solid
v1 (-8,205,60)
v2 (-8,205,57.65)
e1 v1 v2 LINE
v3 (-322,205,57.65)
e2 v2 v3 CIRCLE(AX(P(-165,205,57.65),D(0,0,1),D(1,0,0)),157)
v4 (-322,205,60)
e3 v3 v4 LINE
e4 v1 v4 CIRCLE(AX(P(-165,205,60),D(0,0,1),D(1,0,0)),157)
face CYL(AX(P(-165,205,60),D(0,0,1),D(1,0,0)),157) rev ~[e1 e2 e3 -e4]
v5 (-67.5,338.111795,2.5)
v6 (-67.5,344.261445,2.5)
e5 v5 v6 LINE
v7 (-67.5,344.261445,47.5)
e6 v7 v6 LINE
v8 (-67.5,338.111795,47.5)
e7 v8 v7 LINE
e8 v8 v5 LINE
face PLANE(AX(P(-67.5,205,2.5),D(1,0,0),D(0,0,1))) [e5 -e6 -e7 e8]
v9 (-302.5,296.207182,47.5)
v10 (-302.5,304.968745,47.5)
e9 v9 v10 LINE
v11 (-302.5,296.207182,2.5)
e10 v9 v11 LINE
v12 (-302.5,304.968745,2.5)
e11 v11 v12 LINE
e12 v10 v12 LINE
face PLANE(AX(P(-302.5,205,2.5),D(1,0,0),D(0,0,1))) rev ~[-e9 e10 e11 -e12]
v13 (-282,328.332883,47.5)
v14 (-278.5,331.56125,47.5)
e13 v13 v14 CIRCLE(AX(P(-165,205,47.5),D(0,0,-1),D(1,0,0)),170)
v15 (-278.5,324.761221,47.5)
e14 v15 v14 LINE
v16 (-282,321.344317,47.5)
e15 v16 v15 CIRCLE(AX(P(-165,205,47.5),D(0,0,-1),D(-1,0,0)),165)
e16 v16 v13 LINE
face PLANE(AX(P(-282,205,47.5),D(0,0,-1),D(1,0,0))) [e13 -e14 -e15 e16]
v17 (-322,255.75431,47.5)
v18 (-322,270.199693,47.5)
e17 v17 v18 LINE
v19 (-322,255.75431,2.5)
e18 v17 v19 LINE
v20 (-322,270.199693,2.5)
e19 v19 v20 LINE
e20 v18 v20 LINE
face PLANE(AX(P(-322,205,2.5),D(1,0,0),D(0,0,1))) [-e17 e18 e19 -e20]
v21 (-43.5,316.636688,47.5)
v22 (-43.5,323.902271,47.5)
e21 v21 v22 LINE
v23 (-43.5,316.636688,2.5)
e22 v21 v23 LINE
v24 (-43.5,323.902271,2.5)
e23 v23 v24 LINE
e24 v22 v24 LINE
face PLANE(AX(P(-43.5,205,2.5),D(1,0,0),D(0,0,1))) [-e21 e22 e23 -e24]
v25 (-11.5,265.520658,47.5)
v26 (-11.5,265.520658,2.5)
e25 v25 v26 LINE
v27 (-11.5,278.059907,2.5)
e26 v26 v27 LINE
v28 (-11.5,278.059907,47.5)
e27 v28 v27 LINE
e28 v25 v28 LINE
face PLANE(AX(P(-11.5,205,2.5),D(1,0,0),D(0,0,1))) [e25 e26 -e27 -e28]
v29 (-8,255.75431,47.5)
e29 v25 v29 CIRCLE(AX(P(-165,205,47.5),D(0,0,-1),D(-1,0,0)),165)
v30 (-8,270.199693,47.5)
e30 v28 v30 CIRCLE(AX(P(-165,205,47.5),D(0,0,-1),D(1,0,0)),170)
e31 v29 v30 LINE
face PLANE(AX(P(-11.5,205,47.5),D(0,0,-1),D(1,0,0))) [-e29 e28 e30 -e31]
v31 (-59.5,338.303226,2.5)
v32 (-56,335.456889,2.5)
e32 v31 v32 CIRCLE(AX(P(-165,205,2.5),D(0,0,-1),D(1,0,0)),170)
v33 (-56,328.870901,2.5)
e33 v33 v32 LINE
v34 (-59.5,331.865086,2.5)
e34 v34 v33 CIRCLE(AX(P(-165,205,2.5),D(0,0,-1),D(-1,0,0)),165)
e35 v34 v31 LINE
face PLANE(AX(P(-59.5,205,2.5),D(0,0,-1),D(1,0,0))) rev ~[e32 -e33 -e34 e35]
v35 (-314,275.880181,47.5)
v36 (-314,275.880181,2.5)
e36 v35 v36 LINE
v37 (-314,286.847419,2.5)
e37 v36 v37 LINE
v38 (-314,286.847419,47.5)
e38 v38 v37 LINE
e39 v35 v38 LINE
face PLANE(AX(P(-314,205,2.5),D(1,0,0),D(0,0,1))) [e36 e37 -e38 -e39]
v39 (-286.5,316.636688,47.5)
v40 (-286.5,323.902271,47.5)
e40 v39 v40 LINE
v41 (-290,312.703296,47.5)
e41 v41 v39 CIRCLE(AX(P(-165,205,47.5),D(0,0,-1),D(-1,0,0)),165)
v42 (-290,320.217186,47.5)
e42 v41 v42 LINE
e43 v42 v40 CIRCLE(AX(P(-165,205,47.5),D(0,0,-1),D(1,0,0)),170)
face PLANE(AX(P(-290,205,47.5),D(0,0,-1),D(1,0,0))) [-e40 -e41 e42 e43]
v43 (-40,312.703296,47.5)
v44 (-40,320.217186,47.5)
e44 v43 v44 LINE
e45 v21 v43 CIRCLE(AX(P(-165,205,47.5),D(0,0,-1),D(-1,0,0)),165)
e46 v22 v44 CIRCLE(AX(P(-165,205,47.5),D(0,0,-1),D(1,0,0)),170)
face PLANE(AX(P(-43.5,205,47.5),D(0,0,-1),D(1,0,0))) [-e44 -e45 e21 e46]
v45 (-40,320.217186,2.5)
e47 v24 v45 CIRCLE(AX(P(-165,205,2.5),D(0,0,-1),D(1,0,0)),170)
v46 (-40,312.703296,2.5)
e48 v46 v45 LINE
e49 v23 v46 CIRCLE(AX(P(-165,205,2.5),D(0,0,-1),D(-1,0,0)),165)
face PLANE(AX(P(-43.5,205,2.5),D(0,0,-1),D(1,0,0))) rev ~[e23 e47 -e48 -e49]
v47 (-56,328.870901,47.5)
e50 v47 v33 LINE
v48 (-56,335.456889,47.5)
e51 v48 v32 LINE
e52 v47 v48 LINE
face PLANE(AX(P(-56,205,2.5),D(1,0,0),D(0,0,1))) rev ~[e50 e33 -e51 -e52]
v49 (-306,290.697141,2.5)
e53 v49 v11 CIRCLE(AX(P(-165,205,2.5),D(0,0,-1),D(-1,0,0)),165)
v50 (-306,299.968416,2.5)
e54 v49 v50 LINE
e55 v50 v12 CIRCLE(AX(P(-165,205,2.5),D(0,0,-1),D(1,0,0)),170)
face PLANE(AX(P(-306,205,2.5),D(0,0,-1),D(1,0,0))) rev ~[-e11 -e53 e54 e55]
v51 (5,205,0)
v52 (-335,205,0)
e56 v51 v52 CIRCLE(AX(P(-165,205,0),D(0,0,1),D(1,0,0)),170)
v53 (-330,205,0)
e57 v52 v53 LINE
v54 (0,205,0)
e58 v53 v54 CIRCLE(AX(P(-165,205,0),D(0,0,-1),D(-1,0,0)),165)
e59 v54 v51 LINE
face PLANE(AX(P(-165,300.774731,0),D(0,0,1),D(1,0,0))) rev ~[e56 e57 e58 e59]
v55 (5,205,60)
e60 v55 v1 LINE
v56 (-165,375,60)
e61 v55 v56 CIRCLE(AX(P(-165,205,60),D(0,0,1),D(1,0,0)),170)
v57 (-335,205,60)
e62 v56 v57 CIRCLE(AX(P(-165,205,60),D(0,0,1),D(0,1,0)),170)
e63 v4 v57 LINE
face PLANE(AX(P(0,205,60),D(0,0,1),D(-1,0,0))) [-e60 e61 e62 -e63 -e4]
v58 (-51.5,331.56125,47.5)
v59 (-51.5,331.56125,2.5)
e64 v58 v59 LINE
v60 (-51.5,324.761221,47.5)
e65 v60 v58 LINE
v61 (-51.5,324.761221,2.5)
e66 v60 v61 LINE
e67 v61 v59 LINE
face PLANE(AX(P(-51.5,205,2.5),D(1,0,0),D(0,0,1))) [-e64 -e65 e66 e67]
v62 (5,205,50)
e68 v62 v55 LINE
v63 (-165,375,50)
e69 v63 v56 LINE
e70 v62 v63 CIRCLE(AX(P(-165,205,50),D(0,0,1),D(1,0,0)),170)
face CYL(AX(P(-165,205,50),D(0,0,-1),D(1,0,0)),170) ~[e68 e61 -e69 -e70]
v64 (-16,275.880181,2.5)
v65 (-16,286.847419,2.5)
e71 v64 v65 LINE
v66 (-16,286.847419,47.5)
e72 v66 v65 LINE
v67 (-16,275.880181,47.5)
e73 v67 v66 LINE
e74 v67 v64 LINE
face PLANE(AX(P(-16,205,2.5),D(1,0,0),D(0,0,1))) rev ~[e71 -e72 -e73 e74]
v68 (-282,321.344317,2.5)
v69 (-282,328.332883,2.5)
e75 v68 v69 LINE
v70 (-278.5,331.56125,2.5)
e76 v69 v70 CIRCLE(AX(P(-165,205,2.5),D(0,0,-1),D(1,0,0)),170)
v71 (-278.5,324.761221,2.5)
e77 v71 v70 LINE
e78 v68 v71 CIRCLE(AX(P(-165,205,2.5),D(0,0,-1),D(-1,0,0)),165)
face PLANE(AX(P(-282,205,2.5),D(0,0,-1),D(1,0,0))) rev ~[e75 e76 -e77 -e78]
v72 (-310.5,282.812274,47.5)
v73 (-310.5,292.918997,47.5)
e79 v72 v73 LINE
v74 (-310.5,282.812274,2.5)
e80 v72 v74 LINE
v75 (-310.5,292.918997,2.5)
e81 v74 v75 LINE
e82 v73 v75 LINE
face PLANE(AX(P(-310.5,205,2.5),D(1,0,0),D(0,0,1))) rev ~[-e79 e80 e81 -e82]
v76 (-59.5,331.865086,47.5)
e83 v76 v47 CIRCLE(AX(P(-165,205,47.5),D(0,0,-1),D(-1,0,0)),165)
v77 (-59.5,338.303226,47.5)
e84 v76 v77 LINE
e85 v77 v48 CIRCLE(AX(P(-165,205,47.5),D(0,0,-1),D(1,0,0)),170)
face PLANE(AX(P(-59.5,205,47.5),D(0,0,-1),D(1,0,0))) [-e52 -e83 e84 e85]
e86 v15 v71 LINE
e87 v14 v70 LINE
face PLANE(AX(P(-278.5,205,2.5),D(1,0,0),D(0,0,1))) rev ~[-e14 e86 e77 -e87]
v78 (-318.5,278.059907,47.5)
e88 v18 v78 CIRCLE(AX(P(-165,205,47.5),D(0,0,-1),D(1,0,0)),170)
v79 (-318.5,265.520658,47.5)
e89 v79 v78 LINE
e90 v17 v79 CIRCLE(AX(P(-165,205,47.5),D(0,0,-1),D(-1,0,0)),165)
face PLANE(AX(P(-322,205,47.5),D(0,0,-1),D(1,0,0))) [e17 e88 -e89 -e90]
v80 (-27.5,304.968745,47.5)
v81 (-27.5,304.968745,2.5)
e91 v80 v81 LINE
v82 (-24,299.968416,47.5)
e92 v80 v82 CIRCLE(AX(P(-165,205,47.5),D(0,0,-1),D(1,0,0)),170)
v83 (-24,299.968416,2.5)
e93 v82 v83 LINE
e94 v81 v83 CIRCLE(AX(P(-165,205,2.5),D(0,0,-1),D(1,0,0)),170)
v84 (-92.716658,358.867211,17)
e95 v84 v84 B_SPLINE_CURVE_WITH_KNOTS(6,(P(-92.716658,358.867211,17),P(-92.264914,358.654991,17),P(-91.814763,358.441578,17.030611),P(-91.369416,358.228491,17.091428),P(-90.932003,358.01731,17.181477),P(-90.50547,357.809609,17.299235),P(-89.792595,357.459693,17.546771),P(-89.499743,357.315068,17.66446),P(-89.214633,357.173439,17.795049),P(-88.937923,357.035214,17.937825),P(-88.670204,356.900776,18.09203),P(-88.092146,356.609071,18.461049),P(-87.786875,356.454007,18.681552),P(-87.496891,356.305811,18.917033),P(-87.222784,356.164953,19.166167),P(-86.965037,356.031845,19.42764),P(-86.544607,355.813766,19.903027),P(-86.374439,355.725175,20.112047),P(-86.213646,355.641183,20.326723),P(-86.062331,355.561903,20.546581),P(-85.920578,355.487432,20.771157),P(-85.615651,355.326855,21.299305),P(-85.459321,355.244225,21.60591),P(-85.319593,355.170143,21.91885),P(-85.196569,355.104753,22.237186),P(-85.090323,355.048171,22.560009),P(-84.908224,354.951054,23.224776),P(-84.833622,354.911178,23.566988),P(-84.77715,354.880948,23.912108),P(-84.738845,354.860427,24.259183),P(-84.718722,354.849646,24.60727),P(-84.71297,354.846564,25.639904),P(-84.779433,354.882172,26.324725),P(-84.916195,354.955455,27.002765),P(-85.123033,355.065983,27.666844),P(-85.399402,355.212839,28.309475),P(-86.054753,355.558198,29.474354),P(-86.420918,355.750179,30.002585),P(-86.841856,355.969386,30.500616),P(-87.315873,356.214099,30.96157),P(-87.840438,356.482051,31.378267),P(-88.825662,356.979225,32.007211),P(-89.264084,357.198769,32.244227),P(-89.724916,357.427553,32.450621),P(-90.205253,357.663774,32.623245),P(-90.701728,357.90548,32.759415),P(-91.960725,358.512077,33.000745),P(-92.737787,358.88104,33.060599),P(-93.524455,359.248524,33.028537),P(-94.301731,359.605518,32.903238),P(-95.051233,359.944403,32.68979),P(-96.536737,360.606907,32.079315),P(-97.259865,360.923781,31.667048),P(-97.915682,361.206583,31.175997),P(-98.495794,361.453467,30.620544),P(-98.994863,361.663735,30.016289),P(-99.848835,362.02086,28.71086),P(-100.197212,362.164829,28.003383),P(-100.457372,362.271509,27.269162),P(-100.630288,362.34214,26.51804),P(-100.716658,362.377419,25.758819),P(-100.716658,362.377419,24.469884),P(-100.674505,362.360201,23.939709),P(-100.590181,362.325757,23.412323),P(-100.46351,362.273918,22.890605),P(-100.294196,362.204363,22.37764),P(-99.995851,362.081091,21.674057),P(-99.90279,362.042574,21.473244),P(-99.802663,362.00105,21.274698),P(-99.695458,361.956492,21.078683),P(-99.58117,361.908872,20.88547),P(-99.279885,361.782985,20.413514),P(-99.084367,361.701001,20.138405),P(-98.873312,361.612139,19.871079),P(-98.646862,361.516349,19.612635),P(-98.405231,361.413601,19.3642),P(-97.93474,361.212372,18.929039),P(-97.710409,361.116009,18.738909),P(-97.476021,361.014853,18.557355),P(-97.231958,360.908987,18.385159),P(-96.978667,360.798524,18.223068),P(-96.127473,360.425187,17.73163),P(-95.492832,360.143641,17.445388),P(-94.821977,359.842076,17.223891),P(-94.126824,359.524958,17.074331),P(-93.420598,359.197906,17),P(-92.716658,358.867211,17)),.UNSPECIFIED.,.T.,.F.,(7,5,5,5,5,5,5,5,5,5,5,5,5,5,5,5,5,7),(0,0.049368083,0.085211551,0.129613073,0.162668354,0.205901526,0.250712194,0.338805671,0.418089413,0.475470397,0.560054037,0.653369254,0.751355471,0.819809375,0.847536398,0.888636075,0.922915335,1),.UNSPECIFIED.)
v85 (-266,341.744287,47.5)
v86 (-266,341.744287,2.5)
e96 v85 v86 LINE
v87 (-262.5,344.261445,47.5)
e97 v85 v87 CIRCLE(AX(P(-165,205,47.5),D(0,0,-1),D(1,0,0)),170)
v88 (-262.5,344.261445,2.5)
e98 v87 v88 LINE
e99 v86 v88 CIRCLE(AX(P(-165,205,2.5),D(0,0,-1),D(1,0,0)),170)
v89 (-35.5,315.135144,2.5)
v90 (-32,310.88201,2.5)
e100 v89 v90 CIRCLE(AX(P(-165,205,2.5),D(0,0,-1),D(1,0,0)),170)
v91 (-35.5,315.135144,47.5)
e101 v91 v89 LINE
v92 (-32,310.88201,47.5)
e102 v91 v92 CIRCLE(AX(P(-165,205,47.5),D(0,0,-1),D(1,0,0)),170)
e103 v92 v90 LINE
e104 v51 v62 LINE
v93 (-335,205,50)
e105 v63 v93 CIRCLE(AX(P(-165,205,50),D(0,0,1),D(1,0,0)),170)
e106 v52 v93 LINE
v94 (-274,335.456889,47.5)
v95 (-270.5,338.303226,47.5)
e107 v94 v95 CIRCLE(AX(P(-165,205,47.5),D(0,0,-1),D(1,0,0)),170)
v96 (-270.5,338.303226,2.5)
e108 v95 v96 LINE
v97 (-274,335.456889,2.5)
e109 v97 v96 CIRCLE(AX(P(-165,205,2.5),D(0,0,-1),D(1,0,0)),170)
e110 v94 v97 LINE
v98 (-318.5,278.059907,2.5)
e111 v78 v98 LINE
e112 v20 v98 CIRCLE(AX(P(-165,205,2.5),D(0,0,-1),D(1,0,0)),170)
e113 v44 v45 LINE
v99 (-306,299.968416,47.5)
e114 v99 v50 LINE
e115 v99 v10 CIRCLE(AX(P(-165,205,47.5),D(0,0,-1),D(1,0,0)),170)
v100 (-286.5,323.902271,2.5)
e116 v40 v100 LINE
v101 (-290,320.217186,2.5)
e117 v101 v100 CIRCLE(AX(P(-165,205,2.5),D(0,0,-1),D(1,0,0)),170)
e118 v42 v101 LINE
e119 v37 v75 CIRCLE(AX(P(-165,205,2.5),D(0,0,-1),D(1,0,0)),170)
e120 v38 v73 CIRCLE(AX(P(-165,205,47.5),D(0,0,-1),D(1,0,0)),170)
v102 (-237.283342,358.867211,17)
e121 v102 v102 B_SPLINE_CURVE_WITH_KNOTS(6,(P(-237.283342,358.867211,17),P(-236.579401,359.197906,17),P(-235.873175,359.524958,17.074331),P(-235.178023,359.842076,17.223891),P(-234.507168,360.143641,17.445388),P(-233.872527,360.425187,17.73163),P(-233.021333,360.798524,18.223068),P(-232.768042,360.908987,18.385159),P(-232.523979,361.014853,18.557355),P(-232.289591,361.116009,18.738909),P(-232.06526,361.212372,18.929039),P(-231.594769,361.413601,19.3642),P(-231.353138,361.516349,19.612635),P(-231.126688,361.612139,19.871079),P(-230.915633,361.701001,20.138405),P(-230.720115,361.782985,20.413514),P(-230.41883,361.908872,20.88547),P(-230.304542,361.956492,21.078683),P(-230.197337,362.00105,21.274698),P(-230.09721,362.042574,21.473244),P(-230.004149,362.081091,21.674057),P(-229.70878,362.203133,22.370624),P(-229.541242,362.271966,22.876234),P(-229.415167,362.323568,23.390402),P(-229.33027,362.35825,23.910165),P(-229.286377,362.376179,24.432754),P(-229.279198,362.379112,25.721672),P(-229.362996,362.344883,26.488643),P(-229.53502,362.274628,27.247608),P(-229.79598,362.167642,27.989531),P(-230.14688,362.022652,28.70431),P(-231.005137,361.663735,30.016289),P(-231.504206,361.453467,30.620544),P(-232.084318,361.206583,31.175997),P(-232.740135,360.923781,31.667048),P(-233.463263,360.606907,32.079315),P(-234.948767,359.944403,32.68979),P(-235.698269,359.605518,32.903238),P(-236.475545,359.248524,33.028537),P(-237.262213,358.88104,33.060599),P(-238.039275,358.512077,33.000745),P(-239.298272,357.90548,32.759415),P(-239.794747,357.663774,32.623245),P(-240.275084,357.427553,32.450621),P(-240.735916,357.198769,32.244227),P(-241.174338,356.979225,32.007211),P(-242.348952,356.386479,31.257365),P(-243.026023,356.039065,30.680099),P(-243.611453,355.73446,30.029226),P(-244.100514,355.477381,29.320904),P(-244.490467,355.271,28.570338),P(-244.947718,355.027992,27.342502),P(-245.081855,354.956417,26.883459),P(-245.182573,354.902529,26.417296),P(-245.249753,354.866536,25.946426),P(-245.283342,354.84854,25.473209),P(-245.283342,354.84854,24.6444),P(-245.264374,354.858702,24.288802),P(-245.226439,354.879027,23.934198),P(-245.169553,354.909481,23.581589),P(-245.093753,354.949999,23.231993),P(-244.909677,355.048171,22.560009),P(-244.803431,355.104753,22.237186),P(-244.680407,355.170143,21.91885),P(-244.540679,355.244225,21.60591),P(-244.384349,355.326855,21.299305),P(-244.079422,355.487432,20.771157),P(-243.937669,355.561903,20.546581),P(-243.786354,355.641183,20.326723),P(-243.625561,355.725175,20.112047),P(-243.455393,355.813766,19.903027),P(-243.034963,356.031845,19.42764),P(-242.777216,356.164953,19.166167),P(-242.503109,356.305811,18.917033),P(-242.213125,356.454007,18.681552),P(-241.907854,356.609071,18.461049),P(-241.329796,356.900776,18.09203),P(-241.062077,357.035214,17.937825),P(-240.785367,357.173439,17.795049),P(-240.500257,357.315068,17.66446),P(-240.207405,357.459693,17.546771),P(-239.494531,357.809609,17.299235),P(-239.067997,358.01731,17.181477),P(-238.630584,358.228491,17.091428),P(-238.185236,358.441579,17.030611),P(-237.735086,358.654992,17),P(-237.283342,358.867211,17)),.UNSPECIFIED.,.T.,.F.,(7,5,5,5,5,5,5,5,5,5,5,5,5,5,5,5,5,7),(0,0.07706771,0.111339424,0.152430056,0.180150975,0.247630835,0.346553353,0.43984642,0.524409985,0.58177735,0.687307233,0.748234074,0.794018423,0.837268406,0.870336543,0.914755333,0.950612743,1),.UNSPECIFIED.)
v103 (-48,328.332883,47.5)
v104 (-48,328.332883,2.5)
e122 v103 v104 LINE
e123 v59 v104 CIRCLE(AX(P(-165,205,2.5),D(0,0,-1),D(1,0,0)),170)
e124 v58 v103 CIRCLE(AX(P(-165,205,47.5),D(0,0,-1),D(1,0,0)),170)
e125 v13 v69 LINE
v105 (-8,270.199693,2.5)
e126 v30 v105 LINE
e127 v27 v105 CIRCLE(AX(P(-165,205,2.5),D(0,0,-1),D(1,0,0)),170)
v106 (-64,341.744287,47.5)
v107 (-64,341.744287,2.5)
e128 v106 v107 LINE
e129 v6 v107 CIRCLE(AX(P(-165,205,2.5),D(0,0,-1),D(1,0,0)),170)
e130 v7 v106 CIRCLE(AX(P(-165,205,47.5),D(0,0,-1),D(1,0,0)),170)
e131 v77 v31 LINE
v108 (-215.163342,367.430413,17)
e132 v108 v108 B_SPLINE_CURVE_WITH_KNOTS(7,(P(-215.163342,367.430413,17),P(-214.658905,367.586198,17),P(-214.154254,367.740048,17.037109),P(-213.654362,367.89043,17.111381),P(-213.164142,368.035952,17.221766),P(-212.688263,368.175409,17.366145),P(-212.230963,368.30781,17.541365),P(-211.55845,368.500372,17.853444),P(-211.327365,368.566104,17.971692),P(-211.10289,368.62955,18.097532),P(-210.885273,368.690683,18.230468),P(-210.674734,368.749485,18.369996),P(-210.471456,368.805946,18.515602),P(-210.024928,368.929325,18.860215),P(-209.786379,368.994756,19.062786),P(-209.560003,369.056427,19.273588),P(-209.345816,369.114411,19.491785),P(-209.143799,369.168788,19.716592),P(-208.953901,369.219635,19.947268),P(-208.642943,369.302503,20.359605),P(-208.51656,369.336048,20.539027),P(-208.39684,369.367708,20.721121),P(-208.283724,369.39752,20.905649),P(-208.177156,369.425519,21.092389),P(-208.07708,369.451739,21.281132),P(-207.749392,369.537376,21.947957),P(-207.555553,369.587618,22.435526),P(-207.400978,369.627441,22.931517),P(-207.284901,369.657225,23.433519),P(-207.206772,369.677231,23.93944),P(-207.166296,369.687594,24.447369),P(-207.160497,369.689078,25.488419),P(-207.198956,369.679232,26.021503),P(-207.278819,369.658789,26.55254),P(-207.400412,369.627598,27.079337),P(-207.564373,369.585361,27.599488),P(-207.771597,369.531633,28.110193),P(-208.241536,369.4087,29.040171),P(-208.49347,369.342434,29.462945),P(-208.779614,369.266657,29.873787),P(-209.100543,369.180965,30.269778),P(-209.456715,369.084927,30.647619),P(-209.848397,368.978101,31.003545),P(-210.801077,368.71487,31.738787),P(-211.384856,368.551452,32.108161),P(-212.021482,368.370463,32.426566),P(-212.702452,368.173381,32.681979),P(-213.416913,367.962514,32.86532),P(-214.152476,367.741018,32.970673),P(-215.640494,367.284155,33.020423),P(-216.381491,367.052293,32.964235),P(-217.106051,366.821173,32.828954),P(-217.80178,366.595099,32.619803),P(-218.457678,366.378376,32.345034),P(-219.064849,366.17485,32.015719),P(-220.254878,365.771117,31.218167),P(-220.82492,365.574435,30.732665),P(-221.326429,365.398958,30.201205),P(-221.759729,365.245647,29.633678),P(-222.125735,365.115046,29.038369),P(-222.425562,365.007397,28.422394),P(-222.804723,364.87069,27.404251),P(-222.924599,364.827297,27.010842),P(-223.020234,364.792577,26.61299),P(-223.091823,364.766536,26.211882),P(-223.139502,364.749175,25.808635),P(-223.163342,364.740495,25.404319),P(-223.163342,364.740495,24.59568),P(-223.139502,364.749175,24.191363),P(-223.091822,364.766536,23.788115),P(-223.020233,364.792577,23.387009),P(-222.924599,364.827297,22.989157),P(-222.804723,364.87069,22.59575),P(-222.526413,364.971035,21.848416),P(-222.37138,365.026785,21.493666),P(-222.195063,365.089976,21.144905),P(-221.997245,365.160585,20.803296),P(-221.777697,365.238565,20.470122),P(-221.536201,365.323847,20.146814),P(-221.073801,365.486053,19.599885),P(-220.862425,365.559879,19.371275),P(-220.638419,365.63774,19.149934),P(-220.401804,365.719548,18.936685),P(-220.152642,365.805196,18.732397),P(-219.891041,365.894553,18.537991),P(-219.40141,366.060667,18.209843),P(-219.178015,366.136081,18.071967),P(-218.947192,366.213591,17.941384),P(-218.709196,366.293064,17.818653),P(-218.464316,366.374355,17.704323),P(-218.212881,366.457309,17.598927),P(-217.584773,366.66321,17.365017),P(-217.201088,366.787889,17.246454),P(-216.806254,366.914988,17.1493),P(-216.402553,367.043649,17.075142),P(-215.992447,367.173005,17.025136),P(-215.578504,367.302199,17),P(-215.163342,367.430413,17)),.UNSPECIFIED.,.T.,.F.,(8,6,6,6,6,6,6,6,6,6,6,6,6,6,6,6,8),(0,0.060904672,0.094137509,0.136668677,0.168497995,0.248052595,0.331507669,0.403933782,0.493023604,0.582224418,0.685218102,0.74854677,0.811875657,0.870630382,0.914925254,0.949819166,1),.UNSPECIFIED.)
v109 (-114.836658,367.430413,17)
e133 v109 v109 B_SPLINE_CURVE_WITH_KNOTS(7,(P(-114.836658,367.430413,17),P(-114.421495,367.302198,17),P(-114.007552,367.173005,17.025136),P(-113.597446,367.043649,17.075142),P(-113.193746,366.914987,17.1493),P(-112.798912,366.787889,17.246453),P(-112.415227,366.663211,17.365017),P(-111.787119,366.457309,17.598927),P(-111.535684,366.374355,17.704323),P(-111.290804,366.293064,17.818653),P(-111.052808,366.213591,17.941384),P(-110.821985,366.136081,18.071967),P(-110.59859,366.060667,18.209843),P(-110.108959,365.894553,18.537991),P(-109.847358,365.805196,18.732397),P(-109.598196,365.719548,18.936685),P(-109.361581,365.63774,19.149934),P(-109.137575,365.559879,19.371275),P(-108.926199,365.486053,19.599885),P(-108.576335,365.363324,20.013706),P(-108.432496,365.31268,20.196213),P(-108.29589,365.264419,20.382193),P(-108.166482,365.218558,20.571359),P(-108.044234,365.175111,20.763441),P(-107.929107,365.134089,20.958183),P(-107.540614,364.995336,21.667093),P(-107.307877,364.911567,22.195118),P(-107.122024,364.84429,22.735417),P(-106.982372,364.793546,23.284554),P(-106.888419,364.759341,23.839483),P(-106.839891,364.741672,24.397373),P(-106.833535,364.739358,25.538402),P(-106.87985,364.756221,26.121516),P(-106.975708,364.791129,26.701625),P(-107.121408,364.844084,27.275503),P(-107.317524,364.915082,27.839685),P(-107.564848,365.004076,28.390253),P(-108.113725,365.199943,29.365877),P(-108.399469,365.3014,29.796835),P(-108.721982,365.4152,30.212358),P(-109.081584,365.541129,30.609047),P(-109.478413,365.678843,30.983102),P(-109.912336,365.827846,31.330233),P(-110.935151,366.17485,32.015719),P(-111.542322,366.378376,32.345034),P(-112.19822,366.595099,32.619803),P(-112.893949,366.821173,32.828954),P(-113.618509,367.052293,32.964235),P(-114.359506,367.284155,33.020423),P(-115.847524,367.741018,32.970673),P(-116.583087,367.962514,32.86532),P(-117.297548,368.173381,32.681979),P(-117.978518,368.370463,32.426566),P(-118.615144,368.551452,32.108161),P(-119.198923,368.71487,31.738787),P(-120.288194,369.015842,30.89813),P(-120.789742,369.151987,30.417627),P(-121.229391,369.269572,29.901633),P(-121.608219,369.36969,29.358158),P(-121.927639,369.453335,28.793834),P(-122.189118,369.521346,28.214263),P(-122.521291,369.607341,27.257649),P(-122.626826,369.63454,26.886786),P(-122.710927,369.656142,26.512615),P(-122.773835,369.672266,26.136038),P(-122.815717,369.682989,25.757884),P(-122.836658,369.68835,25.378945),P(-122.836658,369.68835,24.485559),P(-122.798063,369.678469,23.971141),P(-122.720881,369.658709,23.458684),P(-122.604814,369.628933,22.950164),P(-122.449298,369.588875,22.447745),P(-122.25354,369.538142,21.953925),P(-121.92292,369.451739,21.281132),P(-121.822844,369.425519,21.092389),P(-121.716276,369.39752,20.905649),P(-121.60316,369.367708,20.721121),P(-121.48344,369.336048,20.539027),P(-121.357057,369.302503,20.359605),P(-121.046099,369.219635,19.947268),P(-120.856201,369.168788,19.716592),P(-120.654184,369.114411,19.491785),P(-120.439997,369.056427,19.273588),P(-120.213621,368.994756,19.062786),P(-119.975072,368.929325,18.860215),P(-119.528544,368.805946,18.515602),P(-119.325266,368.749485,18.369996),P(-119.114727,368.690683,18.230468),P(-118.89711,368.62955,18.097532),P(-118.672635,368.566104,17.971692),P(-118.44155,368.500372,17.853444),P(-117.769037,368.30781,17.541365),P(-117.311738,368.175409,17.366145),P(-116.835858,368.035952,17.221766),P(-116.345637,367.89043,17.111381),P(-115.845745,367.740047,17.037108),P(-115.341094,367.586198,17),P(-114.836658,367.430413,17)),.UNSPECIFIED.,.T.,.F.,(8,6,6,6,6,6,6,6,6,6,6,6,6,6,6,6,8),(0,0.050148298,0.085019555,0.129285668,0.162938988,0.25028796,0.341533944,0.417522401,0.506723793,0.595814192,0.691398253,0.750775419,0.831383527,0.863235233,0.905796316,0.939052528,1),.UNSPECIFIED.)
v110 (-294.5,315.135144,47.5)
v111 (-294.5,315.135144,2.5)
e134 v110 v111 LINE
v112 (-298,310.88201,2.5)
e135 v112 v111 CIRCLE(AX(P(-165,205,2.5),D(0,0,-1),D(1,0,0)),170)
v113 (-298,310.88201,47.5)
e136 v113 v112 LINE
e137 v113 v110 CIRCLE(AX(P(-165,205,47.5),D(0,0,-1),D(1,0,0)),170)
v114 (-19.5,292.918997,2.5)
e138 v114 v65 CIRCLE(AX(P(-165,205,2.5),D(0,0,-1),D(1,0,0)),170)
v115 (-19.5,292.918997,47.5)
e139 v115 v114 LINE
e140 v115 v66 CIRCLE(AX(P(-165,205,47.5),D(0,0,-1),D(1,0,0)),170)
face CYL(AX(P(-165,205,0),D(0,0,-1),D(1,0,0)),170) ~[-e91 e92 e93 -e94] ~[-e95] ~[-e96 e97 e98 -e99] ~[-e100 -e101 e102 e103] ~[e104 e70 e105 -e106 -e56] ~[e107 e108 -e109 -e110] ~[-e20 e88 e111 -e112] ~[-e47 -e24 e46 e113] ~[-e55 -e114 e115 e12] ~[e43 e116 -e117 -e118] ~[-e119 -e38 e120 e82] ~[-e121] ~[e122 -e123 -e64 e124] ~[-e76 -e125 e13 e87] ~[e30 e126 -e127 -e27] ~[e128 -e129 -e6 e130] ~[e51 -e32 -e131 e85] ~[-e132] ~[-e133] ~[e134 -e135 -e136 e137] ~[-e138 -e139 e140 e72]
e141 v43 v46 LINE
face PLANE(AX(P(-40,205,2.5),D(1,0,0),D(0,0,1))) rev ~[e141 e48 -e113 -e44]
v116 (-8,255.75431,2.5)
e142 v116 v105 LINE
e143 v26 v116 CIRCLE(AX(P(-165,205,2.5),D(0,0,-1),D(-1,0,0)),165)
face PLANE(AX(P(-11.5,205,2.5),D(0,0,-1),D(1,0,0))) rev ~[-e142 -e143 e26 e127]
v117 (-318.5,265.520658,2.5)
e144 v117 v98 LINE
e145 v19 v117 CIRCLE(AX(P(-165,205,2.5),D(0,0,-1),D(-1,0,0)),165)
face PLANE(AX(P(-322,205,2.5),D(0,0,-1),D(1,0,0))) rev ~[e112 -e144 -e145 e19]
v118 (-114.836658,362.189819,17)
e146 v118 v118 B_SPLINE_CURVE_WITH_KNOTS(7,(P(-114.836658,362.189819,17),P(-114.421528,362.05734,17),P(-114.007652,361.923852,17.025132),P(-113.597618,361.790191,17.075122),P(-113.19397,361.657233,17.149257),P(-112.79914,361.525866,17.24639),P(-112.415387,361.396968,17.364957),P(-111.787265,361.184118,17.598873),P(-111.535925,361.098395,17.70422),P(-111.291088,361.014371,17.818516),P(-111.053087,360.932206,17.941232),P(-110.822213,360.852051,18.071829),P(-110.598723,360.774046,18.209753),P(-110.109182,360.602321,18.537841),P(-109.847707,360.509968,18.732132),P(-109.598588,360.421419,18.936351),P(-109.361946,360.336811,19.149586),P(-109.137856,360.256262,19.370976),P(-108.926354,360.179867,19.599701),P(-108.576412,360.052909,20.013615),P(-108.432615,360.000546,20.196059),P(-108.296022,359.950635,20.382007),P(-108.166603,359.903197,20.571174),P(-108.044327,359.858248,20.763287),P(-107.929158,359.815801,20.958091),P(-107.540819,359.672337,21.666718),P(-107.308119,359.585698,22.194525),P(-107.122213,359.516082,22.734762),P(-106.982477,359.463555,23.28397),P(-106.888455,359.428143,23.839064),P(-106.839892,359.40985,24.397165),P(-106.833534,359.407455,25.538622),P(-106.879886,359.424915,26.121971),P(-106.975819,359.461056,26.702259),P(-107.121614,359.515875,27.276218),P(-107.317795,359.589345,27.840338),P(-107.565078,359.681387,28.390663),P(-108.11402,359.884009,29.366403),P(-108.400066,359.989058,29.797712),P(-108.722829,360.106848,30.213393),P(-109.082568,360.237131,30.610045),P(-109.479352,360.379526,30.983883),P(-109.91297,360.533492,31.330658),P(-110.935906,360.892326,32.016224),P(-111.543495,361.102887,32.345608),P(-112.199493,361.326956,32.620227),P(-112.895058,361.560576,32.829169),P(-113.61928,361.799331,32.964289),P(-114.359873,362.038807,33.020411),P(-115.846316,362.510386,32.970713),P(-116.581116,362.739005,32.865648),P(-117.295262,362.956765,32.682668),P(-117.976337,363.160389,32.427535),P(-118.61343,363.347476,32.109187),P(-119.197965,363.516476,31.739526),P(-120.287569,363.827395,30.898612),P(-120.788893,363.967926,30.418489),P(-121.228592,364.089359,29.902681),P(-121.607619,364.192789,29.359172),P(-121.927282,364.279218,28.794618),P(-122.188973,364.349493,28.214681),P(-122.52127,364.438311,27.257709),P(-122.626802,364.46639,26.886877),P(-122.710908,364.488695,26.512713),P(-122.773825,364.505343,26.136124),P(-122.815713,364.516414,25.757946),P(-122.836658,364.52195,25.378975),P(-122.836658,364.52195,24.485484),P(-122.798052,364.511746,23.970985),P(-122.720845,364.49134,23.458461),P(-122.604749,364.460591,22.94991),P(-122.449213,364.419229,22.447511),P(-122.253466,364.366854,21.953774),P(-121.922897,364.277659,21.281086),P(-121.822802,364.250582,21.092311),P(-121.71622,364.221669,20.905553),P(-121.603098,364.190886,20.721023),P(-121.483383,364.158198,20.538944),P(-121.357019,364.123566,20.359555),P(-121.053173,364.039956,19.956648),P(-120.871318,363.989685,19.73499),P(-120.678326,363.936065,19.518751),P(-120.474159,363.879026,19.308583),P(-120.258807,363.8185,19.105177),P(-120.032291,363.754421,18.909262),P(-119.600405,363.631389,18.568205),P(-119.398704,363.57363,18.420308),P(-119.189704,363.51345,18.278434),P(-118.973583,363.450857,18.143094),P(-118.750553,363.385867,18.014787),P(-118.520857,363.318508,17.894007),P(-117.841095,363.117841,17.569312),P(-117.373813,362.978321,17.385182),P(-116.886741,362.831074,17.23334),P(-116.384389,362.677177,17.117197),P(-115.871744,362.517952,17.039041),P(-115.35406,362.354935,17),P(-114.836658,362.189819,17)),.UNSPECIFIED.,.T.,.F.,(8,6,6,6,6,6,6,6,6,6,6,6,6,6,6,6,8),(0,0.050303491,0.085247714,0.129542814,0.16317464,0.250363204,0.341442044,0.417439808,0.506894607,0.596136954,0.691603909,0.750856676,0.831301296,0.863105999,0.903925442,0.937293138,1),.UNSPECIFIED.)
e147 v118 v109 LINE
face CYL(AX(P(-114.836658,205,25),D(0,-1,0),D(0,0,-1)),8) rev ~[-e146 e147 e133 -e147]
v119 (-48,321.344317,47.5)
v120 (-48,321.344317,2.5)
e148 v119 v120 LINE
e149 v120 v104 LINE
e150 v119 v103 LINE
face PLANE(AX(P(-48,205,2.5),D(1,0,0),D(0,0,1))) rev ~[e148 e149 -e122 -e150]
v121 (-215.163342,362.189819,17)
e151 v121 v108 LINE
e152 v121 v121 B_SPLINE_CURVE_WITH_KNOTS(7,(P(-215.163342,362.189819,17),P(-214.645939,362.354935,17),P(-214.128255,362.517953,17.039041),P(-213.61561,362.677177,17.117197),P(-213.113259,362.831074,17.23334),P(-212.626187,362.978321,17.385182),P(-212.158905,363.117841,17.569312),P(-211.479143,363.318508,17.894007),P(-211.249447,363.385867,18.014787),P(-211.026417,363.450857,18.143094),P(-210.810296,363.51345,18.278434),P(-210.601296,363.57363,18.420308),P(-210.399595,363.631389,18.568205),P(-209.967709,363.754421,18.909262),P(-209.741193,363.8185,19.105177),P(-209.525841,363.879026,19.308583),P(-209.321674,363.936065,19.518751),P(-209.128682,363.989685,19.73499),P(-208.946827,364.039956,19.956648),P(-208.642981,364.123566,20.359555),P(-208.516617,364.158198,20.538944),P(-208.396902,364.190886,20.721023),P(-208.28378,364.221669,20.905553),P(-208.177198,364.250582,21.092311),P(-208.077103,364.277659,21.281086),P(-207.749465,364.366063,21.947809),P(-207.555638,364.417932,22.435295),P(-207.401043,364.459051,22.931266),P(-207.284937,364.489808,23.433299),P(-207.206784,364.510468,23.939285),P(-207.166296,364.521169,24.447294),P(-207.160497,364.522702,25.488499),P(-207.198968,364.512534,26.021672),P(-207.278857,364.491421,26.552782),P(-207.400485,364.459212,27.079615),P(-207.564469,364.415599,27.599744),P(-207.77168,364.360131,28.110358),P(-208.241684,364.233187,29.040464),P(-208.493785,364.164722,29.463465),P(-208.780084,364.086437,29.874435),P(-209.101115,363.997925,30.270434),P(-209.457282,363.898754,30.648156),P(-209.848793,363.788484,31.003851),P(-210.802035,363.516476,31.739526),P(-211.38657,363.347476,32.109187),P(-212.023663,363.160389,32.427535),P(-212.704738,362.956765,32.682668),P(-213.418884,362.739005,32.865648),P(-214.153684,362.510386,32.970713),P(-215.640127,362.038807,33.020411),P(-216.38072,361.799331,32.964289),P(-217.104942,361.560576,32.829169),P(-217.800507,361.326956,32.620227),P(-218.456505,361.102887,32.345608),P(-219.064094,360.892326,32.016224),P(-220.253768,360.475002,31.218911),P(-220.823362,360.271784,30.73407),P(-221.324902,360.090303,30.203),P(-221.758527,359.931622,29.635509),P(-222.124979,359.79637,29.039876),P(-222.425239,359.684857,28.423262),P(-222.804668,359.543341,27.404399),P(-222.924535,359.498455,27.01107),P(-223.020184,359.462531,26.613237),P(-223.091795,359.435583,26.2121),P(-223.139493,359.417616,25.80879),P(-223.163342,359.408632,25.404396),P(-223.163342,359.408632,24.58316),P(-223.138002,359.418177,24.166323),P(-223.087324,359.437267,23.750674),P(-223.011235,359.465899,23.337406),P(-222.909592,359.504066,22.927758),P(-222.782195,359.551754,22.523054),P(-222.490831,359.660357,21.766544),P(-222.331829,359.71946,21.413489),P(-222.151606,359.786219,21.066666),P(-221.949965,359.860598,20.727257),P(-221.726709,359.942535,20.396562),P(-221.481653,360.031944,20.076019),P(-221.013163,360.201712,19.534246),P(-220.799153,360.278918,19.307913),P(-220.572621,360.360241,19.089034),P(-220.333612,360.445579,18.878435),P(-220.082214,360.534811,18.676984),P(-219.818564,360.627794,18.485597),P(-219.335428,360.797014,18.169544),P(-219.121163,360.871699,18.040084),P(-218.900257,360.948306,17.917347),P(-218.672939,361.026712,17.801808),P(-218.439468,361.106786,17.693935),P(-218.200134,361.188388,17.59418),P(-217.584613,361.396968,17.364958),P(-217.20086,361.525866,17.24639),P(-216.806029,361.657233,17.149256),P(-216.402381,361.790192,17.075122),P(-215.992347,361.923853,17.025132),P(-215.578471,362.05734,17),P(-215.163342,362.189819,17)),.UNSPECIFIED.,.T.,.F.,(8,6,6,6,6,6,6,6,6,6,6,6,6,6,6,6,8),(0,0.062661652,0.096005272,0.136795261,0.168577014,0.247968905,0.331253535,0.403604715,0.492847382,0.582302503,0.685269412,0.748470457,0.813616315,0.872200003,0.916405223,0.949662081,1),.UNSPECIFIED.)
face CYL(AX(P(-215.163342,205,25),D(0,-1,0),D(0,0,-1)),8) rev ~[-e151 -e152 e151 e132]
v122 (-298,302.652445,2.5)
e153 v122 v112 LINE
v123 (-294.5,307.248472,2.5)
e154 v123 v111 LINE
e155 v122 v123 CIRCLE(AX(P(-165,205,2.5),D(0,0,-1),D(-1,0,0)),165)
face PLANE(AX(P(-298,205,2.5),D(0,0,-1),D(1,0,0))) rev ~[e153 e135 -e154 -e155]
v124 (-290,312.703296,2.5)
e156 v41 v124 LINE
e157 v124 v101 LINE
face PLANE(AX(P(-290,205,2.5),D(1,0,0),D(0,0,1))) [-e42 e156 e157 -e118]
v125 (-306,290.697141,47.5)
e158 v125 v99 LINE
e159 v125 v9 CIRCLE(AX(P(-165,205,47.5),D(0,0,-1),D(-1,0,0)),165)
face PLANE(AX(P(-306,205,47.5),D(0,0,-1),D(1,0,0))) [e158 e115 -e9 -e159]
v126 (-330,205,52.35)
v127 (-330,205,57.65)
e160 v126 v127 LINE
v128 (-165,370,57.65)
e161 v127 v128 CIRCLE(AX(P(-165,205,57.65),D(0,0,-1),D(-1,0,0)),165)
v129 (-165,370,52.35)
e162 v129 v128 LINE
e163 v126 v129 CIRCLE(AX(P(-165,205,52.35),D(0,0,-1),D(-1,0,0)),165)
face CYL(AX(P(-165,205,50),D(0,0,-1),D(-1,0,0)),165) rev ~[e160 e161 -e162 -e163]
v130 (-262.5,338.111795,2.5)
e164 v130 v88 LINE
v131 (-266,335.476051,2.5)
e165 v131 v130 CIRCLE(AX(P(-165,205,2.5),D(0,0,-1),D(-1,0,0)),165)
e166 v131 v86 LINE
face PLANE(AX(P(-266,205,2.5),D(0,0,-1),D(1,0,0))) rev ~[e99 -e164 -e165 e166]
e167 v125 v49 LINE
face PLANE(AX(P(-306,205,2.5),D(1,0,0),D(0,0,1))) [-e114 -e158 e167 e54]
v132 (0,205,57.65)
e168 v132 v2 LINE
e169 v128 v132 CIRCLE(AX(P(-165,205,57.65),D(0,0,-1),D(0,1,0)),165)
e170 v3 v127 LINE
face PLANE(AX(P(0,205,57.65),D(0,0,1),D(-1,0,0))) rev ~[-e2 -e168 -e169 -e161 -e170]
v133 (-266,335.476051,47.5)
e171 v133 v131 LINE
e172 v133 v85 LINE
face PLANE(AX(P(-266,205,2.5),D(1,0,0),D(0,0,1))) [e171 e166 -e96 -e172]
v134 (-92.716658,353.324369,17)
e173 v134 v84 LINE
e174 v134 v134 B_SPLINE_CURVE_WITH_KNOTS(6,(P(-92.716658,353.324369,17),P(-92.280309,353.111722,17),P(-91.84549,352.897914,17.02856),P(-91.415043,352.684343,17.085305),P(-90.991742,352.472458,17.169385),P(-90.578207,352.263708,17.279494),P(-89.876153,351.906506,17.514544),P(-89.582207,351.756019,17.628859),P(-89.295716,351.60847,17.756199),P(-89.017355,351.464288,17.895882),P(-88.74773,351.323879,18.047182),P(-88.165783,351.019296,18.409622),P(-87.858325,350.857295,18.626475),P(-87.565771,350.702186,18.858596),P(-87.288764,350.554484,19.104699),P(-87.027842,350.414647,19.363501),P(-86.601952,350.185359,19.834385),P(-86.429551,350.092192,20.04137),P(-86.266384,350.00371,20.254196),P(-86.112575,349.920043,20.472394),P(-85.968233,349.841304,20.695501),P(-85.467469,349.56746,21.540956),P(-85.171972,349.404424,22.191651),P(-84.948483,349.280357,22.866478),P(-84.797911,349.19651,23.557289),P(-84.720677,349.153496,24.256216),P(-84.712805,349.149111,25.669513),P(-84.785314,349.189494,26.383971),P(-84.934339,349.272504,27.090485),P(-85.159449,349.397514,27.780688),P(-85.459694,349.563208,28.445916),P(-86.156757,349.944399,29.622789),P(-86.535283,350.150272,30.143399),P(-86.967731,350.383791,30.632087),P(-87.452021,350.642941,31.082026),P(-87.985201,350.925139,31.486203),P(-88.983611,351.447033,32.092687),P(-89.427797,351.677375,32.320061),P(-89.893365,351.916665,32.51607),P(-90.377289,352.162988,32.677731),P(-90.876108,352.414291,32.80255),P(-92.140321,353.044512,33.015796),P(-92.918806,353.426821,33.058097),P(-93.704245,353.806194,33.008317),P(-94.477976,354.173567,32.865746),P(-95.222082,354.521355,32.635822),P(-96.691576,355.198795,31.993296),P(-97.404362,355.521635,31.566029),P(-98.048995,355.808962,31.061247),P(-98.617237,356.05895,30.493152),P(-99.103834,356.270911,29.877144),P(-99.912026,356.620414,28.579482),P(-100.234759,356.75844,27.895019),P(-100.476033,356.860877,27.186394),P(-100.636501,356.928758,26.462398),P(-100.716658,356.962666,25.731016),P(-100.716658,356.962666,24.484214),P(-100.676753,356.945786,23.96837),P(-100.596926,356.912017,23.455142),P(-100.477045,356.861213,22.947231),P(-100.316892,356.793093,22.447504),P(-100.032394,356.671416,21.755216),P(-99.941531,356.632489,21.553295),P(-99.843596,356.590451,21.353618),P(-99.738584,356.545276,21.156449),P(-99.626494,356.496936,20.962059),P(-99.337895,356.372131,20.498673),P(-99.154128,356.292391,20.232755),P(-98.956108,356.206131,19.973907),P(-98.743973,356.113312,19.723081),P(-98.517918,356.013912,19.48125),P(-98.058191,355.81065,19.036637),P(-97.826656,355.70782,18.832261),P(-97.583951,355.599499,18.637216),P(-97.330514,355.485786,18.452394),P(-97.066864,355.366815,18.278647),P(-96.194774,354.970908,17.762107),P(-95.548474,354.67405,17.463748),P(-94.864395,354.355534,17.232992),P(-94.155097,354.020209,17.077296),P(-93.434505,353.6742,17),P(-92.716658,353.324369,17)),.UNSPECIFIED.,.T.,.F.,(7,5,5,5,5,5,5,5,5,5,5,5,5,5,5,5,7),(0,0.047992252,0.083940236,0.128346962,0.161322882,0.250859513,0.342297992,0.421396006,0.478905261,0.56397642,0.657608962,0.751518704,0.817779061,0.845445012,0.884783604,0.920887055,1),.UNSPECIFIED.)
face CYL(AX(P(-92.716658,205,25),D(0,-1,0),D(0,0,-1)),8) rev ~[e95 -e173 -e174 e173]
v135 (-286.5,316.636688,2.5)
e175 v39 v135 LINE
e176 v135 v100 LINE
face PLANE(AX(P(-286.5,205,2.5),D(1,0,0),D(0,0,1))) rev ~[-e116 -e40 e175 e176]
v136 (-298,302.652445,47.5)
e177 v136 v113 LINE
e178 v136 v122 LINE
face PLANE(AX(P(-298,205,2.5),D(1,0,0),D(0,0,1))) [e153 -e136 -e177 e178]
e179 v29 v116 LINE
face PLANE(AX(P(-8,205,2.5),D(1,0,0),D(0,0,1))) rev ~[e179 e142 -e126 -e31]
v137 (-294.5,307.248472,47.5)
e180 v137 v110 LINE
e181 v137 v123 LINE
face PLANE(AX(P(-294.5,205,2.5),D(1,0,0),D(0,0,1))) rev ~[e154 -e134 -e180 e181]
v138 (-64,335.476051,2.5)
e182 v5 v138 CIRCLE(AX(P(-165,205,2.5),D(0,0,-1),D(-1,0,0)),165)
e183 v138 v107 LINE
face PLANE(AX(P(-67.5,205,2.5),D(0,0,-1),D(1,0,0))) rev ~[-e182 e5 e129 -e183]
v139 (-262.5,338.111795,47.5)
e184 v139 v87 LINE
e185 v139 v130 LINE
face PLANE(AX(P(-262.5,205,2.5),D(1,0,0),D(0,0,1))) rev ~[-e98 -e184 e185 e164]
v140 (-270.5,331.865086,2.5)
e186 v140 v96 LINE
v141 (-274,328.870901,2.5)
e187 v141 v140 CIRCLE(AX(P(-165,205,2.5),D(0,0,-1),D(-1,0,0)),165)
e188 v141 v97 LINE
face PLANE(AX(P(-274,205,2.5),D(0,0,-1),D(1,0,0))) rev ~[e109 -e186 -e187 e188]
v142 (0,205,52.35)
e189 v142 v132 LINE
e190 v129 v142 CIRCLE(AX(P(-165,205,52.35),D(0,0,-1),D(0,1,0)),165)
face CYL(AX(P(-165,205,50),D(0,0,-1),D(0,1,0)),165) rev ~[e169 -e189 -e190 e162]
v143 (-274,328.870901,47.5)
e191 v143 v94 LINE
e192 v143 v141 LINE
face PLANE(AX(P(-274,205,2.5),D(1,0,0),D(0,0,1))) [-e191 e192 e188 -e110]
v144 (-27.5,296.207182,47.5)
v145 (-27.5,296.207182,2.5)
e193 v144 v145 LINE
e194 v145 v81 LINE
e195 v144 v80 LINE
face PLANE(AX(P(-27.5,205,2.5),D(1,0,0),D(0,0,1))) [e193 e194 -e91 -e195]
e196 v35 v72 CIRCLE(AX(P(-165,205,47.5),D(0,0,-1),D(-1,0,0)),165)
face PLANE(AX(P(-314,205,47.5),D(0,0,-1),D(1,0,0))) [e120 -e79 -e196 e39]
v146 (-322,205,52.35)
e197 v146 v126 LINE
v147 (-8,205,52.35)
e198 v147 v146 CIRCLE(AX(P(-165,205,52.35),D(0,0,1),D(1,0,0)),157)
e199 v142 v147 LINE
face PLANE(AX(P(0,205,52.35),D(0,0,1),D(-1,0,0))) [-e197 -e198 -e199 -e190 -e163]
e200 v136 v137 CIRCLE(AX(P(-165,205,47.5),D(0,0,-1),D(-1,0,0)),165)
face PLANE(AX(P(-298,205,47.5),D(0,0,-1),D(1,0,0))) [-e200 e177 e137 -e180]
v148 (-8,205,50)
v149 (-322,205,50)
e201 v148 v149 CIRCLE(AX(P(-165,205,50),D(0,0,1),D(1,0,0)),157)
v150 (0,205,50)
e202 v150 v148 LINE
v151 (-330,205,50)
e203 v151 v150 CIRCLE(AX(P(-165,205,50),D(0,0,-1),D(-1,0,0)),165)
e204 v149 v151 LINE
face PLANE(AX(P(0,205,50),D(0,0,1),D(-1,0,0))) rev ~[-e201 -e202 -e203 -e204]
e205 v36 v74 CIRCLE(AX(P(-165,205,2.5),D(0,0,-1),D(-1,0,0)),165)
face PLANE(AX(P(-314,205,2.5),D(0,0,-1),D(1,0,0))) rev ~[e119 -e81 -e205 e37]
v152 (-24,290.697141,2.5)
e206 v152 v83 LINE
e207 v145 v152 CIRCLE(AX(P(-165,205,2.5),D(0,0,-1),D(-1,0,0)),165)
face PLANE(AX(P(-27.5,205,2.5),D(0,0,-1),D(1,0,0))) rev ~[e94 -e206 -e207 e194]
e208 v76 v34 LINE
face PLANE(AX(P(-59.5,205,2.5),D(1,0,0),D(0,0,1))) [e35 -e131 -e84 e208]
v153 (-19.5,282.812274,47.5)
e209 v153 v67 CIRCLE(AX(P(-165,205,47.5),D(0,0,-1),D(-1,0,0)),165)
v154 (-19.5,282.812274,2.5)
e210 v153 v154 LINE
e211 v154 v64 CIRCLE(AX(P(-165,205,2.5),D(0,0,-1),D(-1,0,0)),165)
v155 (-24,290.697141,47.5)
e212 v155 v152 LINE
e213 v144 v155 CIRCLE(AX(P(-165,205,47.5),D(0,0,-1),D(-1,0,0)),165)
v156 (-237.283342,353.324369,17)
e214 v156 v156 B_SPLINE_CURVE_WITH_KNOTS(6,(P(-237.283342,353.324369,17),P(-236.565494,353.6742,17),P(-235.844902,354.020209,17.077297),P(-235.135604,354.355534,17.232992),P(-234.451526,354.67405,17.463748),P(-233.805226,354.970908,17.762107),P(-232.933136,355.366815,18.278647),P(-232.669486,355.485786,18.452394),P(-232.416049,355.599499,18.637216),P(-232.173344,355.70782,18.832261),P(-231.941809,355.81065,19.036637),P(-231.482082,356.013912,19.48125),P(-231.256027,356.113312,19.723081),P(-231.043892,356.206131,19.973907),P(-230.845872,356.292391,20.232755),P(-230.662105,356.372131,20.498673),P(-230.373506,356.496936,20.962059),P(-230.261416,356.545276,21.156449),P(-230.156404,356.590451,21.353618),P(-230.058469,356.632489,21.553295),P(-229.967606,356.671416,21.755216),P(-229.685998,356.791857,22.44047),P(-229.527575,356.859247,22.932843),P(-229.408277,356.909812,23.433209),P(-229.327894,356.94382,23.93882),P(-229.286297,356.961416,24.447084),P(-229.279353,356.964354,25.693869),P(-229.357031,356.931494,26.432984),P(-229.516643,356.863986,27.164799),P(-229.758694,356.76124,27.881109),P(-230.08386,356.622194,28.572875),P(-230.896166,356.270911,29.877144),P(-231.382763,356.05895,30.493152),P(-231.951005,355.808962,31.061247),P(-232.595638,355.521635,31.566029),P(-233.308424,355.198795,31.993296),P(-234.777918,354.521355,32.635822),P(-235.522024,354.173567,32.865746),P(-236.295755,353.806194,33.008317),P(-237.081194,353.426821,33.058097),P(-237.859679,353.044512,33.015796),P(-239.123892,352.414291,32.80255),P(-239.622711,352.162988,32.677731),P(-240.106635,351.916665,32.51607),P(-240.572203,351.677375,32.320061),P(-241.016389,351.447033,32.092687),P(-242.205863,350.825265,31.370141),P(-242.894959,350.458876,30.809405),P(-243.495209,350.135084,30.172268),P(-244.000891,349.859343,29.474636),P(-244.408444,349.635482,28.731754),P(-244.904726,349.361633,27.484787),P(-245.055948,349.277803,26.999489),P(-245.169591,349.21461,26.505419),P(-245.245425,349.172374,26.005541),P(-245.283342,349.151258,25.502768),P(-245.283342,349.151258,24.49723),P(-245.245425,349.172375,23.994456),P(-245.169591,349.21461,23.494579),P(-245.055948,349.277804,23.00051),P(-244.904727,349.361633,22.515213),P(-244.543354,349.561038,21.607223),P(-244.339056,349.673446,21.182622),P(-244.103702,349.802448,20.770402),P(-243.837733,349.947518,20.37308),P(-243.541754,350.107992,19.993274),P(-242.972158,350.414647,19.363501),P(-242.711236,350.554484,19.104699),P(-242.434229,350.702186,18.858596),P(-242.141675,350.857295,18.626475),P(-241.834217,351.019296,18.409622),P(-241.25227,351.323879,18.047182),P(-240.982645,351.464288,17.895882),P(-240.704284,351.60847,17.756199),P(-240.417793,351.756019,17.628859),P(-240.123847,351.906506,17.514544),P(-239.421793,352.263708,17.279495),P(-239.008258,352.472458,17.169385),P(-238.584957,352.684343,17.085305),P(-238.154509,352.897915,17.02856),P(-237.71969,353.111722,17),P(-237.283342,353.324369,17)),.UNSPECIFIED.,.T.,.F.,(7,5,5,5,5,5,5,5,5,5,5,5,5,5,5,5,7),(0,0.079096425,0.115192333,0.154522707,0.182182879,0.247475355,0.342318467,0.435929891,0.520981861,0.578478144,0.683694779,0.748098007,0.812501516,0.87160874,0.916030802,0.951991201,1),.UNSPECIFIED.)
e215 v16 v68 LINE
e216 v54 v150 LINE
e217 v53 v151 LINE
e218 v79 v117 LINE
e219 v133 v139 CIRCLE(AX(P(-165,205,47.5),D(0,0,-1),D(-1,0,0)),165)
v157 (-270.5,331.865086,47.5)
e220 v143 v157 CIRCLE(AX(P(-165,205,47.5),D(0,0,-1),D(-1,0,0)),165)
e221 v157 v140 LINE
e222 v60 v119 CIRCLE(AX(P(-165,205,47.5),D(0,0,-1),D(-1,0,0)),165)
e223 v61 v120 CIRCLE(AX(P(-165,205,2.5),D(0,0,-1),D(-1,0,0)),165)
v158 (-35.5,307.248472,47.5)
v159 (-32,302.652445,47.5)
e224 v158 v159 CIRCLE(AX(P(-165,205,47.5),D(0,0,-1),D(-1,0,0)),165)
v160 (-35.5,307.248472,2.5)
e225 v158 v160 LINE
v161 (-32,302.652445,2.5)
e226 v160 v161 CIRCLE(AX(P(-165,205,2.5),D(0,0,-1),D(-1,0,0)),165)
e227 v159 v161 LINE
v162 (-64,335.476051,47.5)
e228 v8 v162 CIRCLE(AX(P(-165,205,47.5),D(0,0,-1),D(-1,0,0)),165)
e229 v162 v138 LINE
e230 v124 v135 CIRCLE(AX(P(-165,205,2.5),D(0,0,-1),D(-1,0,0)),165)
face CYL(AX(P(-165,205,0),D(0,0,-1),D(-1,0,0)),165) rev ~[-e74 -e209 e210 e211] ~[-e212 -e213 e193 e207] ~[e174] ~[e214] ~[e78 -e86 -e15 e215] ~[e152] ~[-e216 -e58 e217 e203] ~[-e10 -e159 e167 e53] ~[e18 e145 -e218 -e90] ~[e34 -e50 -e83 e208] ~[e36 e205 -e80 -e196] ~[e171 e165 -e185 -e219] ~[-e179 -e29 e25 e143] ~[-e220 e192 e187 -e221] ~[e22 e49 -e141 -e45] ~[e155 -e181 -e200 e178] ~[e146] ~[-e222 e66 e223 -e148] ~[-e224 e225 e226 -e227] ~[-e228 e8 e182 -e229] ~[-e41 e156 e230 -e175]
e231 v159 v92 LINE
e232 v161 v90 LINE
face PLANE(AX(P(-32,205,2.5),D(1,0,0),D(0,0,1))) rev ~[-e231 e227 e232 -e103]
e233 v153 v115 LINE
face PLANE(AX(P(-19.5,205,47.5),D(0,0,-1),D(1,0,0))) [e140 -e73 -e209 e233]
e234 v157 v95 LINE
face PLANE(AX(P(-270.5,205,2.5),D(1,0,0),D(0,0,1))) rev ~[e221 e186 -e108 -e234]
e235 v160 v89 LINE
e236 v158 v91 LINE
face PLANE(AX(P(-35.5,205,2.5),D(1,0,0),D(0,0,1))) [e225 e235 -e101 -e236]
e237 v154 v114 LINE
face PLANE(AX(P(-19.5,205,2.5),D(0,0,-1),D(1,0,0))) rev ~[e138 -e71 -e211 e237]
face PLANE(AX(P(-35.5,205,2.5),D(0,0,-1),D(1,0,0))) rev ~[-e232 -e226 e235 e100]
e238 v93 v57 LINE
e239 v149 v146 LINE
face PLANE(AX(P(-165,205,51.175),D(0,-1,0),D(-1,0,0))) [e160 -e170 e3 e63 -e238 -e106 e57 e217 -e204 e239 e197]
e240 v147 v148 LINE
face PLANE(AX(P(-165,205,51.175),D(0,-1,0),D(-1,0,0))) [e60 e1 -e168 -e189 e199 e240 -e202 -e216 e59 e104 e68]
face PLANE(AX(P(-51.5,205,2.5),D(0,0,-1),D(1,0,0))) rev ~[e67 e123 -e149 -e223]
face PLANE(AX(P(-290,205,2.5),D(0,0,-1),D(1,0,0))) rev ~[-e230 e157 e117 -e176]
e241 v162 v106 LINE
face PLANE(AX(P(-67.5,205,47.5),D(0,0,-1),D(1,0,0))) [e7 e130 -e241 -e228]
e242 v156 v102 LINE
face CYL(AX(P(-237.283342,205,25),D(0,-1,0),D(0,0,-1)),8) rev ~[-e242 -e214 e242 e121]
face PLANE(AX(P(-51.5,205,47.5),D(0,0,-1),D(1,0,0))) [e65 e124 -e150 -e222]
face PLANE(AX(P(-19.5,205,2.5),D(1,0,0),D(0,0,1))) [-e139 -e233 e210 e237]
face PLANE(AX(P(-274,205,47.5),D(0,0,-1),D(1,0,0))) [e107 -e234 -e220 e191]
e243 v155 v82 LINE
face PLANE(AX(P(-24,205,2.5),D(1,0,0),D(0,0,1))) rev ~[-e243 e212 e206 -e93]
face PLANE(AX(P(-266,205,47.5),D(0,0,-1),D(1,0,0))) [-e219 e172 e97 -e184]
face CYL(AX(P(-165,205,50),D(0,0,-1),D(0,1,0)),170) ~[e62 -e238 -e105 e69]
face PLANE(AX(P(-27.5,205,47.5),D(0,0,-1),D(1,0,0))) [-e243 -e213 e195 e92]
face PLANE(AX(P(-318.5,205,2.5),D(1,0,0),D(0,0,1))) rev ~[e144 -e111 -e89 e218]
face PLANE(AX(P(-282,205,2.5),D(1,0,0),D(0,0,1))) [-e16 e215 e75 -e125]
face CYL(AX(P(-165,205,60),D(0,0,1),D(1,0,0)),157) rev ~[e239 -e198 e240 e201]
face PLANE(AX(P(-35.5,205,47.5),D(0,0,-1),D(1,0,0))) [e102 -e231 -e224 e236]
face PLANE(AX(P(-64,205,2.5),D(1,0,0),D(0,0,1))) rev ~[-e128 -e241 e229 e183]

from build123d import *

# Parameters (mm, degrees)
BOSS_EXTRU_1_DEPTH      = 50
ESQUISSE2_W             = 3.5
ESQUISSE2_H             = 45
ENL_V_MAT_EXTRU_1_DEPTH = 1500
ESQUISSE3_R             = 8
ENL_V_MAT_EXTRU_3_DEPTH = 1500
BOSS_EXTRU_2_DEPTH      = 10
BOSS_EXTRU_4_REACH      = 382.427
ESQUISSE5_W             = 330
ESQUISSE5_H             = 2.35
ESQUISSE8_R             = 157
ENL_V_MAT_EXTRU_4_DEPTH = 94


with BuildPart() as part:
    # Esquisse1 → Boss.-Extru.1 (new body)
    with BuildSketch(Plane.XY):
        with BuildLine():
            Line((-335, 205), (-330, 205))
            ThreePointArc((-330, 205), (-165, 370), (0, 205))
            Line((0, 205), (5, 205))
            ThreePointArc((5, 205), (-165, 375), (-335, 205))
        make_face()
    extrude(amount=BOSS_EXTRU_1_DEPTH)

    # Esquisse2 → Enlèv. mat.-Extru.1 (cut)
    with BuildSketch(Plane.XZ.offset(-205)):
        with Locations((-320.25, 25)):
            Rectangle(ESQUISSE2_W, ESQUISSE2_H)
        with Locations((-312.25, 25)):
            Rectangle(ESQUISSE2_W, ESQUISSE2_H)
        with Locations((-304.25, 25)):
            Rectangle(ESQUISSE2_W, ESQUISSE2_H)
        with Locations((-296.25, 25)):
            Rectangle(ESQUISSE2_W, ESQUISSE2_H)
        with Locations((-288.25, 25)):
            Rectangle(ESQUISSE2_W, ESQUISSE2_H)
        with Locations((-280.25, 25)):
            Rectangle(ESQUISSE2_W, ESQUISSE2_H)
        with Locations((-272.25, 25)):
            Rectangle(ESQUISSE2_W, ESQUISSE2_H)
        with Locations((-264.25, 25)):
            Rectangle(ESQUISSE2_W, ESQUISSE2_H)
        with Locations((-9.75, 25)):
            Rectangle(ESQUISSE2_W, ESQUISSE2_H)
        with Locations((-17.75, 25)):
            Rectangle(ESQUISSE2_W, ESQUISSE2_H)
        with Locations((-25.75, 25)):
            Rectangle(ESQUISSE2_W, ESQUISSE2_H)
        with Locations((-33.75, 25)):
            Rectangle(ESQUISSE2_W, ESQUISSE2_H)
        with Locations((-41.75, 25)):
            Rectangle(ESQUISSE2_W, ESQUISSE2_H)
        with Locations((-49.75, 25)):
            Rectangle(ESQUISSE2_W, ESQUISSE2_H)
        with Locations((-57.75, 25)):
            Rectangle(ESQUISSE2_W, ESQUISSE2_H)
        with Locations((-65.75, 25)):
            Rectangle(ESQUISSE2_W, ESQUISSE2_H)
    extrude(amount=-ENL_V_MAT_EXTRU_1_DEPTH, mode=Mode.SUBTRACT)

    # Esquisse3 → Enlèv. mat.-Extru.3 (cut)
    with BuildSketch(Plane.XZ.offset(-205)):
        with Locations(Location((-92.71665832, 25, 0), (0, 0, 270))):
            Circle(ESQUISSE3_R)
        with Locations(Location((-114.83665832, 25, 0), (0, 0, 270))):
            Circle(ESQUISSE3_R)
        with Locations(Location((-237.28334168, 25, 0), (0, 0, 270))):
            Circle(ESQUISSE3_R)
        with Locations(Location((-215.16334168, 25, 0), (0, 0, 270))):
            Circle(ESQUISSE3_R)
    extrude(amount=-ENL_V_MAT_EXTRU_3_DEPTH, mode=Mode.SUBTRACT)

    # Esquisse4 → Boss.-Extru.2 (add)
    with BuildSketch(Plane.XY.offset(50)):
        with BuildLine():
            Line((0, 205), (5, 205))
            ThreePointArc((5, 205), (-44.791847198, 325.208152802), (-165, 375))
            ThreePointArc((-165, 375), (-285.208152802, 325.208152802), (-335, 205))
            Line((-335, 205), (-330, 205))
            ThreePointArc((-330, 205), (-281.672618896, 321.672618896), (-165, 370))
            ThreePointArc((-165, 370), (-48.327381104, 321.672618896), (0, 205))
        make_face()
    extrude(amount=BOSS_EXTRU_2_DEPTH)

    # Esquisse5 → Boss.-Extru.4 (add, up to next)
    with BuildSketch(Plane(origin=(0, 205, 0), x_dir=(-1, 0, 0), z_dir=(0, -1, 0)), mode=Mode.PRIVATE) as boss_extru_4_sk1:
        with Locations((165, -58.825)):
            Rectangle(ESQUISSE5_W, ESQUISSE5_H)
    boss_extru_4_tool1 = extrude(boss_extru_4_sk1.sketch, amount=-BOSS_EXTRU_4_REACH, mode=Mode.PRIVATE) - part.part
    # Esquisse5 → Boss.-Extru.4 (add, up to next)
    with BuildSketch(Plane(origin=(0, 205, 0), x_dir=(-1, 0, 0), z_dir=(0, -1, 0)), mode=Mode.PRIVATE) as boss_extru_4_sk2:
        with Locations((165, -51.175)):
            Rectangle(ESQUISSE5_W, ESQUISSE5_H)
    boss_extru_4_tool2 = extrude(boss_extru_4_sk2.sketch, amount=-BOSS_EXTRU_4_REACH, mode=Mode.PRIVATE) - part.part
    add(boss_extru_4_tool1.solids().sort_by_distance((-165, 205, 58.825))[0])
    add(boss_extru_4_tool2.solids().sort_by_distance((-165, 205, 51.175))[0])

    # Esquisse8 → Enlèv. mat.-Extru.4 (cut)
    with BuildSketch(Plane.XY.offset(60)):
        with Locations((-165, 205)):
            Circle(ESQUISSE8_R)
    extrude(amount=-ENL_V_MAT_EXTRU_4_DEPTH, mode=Mode.SUBTRACT)


solid = part.part
